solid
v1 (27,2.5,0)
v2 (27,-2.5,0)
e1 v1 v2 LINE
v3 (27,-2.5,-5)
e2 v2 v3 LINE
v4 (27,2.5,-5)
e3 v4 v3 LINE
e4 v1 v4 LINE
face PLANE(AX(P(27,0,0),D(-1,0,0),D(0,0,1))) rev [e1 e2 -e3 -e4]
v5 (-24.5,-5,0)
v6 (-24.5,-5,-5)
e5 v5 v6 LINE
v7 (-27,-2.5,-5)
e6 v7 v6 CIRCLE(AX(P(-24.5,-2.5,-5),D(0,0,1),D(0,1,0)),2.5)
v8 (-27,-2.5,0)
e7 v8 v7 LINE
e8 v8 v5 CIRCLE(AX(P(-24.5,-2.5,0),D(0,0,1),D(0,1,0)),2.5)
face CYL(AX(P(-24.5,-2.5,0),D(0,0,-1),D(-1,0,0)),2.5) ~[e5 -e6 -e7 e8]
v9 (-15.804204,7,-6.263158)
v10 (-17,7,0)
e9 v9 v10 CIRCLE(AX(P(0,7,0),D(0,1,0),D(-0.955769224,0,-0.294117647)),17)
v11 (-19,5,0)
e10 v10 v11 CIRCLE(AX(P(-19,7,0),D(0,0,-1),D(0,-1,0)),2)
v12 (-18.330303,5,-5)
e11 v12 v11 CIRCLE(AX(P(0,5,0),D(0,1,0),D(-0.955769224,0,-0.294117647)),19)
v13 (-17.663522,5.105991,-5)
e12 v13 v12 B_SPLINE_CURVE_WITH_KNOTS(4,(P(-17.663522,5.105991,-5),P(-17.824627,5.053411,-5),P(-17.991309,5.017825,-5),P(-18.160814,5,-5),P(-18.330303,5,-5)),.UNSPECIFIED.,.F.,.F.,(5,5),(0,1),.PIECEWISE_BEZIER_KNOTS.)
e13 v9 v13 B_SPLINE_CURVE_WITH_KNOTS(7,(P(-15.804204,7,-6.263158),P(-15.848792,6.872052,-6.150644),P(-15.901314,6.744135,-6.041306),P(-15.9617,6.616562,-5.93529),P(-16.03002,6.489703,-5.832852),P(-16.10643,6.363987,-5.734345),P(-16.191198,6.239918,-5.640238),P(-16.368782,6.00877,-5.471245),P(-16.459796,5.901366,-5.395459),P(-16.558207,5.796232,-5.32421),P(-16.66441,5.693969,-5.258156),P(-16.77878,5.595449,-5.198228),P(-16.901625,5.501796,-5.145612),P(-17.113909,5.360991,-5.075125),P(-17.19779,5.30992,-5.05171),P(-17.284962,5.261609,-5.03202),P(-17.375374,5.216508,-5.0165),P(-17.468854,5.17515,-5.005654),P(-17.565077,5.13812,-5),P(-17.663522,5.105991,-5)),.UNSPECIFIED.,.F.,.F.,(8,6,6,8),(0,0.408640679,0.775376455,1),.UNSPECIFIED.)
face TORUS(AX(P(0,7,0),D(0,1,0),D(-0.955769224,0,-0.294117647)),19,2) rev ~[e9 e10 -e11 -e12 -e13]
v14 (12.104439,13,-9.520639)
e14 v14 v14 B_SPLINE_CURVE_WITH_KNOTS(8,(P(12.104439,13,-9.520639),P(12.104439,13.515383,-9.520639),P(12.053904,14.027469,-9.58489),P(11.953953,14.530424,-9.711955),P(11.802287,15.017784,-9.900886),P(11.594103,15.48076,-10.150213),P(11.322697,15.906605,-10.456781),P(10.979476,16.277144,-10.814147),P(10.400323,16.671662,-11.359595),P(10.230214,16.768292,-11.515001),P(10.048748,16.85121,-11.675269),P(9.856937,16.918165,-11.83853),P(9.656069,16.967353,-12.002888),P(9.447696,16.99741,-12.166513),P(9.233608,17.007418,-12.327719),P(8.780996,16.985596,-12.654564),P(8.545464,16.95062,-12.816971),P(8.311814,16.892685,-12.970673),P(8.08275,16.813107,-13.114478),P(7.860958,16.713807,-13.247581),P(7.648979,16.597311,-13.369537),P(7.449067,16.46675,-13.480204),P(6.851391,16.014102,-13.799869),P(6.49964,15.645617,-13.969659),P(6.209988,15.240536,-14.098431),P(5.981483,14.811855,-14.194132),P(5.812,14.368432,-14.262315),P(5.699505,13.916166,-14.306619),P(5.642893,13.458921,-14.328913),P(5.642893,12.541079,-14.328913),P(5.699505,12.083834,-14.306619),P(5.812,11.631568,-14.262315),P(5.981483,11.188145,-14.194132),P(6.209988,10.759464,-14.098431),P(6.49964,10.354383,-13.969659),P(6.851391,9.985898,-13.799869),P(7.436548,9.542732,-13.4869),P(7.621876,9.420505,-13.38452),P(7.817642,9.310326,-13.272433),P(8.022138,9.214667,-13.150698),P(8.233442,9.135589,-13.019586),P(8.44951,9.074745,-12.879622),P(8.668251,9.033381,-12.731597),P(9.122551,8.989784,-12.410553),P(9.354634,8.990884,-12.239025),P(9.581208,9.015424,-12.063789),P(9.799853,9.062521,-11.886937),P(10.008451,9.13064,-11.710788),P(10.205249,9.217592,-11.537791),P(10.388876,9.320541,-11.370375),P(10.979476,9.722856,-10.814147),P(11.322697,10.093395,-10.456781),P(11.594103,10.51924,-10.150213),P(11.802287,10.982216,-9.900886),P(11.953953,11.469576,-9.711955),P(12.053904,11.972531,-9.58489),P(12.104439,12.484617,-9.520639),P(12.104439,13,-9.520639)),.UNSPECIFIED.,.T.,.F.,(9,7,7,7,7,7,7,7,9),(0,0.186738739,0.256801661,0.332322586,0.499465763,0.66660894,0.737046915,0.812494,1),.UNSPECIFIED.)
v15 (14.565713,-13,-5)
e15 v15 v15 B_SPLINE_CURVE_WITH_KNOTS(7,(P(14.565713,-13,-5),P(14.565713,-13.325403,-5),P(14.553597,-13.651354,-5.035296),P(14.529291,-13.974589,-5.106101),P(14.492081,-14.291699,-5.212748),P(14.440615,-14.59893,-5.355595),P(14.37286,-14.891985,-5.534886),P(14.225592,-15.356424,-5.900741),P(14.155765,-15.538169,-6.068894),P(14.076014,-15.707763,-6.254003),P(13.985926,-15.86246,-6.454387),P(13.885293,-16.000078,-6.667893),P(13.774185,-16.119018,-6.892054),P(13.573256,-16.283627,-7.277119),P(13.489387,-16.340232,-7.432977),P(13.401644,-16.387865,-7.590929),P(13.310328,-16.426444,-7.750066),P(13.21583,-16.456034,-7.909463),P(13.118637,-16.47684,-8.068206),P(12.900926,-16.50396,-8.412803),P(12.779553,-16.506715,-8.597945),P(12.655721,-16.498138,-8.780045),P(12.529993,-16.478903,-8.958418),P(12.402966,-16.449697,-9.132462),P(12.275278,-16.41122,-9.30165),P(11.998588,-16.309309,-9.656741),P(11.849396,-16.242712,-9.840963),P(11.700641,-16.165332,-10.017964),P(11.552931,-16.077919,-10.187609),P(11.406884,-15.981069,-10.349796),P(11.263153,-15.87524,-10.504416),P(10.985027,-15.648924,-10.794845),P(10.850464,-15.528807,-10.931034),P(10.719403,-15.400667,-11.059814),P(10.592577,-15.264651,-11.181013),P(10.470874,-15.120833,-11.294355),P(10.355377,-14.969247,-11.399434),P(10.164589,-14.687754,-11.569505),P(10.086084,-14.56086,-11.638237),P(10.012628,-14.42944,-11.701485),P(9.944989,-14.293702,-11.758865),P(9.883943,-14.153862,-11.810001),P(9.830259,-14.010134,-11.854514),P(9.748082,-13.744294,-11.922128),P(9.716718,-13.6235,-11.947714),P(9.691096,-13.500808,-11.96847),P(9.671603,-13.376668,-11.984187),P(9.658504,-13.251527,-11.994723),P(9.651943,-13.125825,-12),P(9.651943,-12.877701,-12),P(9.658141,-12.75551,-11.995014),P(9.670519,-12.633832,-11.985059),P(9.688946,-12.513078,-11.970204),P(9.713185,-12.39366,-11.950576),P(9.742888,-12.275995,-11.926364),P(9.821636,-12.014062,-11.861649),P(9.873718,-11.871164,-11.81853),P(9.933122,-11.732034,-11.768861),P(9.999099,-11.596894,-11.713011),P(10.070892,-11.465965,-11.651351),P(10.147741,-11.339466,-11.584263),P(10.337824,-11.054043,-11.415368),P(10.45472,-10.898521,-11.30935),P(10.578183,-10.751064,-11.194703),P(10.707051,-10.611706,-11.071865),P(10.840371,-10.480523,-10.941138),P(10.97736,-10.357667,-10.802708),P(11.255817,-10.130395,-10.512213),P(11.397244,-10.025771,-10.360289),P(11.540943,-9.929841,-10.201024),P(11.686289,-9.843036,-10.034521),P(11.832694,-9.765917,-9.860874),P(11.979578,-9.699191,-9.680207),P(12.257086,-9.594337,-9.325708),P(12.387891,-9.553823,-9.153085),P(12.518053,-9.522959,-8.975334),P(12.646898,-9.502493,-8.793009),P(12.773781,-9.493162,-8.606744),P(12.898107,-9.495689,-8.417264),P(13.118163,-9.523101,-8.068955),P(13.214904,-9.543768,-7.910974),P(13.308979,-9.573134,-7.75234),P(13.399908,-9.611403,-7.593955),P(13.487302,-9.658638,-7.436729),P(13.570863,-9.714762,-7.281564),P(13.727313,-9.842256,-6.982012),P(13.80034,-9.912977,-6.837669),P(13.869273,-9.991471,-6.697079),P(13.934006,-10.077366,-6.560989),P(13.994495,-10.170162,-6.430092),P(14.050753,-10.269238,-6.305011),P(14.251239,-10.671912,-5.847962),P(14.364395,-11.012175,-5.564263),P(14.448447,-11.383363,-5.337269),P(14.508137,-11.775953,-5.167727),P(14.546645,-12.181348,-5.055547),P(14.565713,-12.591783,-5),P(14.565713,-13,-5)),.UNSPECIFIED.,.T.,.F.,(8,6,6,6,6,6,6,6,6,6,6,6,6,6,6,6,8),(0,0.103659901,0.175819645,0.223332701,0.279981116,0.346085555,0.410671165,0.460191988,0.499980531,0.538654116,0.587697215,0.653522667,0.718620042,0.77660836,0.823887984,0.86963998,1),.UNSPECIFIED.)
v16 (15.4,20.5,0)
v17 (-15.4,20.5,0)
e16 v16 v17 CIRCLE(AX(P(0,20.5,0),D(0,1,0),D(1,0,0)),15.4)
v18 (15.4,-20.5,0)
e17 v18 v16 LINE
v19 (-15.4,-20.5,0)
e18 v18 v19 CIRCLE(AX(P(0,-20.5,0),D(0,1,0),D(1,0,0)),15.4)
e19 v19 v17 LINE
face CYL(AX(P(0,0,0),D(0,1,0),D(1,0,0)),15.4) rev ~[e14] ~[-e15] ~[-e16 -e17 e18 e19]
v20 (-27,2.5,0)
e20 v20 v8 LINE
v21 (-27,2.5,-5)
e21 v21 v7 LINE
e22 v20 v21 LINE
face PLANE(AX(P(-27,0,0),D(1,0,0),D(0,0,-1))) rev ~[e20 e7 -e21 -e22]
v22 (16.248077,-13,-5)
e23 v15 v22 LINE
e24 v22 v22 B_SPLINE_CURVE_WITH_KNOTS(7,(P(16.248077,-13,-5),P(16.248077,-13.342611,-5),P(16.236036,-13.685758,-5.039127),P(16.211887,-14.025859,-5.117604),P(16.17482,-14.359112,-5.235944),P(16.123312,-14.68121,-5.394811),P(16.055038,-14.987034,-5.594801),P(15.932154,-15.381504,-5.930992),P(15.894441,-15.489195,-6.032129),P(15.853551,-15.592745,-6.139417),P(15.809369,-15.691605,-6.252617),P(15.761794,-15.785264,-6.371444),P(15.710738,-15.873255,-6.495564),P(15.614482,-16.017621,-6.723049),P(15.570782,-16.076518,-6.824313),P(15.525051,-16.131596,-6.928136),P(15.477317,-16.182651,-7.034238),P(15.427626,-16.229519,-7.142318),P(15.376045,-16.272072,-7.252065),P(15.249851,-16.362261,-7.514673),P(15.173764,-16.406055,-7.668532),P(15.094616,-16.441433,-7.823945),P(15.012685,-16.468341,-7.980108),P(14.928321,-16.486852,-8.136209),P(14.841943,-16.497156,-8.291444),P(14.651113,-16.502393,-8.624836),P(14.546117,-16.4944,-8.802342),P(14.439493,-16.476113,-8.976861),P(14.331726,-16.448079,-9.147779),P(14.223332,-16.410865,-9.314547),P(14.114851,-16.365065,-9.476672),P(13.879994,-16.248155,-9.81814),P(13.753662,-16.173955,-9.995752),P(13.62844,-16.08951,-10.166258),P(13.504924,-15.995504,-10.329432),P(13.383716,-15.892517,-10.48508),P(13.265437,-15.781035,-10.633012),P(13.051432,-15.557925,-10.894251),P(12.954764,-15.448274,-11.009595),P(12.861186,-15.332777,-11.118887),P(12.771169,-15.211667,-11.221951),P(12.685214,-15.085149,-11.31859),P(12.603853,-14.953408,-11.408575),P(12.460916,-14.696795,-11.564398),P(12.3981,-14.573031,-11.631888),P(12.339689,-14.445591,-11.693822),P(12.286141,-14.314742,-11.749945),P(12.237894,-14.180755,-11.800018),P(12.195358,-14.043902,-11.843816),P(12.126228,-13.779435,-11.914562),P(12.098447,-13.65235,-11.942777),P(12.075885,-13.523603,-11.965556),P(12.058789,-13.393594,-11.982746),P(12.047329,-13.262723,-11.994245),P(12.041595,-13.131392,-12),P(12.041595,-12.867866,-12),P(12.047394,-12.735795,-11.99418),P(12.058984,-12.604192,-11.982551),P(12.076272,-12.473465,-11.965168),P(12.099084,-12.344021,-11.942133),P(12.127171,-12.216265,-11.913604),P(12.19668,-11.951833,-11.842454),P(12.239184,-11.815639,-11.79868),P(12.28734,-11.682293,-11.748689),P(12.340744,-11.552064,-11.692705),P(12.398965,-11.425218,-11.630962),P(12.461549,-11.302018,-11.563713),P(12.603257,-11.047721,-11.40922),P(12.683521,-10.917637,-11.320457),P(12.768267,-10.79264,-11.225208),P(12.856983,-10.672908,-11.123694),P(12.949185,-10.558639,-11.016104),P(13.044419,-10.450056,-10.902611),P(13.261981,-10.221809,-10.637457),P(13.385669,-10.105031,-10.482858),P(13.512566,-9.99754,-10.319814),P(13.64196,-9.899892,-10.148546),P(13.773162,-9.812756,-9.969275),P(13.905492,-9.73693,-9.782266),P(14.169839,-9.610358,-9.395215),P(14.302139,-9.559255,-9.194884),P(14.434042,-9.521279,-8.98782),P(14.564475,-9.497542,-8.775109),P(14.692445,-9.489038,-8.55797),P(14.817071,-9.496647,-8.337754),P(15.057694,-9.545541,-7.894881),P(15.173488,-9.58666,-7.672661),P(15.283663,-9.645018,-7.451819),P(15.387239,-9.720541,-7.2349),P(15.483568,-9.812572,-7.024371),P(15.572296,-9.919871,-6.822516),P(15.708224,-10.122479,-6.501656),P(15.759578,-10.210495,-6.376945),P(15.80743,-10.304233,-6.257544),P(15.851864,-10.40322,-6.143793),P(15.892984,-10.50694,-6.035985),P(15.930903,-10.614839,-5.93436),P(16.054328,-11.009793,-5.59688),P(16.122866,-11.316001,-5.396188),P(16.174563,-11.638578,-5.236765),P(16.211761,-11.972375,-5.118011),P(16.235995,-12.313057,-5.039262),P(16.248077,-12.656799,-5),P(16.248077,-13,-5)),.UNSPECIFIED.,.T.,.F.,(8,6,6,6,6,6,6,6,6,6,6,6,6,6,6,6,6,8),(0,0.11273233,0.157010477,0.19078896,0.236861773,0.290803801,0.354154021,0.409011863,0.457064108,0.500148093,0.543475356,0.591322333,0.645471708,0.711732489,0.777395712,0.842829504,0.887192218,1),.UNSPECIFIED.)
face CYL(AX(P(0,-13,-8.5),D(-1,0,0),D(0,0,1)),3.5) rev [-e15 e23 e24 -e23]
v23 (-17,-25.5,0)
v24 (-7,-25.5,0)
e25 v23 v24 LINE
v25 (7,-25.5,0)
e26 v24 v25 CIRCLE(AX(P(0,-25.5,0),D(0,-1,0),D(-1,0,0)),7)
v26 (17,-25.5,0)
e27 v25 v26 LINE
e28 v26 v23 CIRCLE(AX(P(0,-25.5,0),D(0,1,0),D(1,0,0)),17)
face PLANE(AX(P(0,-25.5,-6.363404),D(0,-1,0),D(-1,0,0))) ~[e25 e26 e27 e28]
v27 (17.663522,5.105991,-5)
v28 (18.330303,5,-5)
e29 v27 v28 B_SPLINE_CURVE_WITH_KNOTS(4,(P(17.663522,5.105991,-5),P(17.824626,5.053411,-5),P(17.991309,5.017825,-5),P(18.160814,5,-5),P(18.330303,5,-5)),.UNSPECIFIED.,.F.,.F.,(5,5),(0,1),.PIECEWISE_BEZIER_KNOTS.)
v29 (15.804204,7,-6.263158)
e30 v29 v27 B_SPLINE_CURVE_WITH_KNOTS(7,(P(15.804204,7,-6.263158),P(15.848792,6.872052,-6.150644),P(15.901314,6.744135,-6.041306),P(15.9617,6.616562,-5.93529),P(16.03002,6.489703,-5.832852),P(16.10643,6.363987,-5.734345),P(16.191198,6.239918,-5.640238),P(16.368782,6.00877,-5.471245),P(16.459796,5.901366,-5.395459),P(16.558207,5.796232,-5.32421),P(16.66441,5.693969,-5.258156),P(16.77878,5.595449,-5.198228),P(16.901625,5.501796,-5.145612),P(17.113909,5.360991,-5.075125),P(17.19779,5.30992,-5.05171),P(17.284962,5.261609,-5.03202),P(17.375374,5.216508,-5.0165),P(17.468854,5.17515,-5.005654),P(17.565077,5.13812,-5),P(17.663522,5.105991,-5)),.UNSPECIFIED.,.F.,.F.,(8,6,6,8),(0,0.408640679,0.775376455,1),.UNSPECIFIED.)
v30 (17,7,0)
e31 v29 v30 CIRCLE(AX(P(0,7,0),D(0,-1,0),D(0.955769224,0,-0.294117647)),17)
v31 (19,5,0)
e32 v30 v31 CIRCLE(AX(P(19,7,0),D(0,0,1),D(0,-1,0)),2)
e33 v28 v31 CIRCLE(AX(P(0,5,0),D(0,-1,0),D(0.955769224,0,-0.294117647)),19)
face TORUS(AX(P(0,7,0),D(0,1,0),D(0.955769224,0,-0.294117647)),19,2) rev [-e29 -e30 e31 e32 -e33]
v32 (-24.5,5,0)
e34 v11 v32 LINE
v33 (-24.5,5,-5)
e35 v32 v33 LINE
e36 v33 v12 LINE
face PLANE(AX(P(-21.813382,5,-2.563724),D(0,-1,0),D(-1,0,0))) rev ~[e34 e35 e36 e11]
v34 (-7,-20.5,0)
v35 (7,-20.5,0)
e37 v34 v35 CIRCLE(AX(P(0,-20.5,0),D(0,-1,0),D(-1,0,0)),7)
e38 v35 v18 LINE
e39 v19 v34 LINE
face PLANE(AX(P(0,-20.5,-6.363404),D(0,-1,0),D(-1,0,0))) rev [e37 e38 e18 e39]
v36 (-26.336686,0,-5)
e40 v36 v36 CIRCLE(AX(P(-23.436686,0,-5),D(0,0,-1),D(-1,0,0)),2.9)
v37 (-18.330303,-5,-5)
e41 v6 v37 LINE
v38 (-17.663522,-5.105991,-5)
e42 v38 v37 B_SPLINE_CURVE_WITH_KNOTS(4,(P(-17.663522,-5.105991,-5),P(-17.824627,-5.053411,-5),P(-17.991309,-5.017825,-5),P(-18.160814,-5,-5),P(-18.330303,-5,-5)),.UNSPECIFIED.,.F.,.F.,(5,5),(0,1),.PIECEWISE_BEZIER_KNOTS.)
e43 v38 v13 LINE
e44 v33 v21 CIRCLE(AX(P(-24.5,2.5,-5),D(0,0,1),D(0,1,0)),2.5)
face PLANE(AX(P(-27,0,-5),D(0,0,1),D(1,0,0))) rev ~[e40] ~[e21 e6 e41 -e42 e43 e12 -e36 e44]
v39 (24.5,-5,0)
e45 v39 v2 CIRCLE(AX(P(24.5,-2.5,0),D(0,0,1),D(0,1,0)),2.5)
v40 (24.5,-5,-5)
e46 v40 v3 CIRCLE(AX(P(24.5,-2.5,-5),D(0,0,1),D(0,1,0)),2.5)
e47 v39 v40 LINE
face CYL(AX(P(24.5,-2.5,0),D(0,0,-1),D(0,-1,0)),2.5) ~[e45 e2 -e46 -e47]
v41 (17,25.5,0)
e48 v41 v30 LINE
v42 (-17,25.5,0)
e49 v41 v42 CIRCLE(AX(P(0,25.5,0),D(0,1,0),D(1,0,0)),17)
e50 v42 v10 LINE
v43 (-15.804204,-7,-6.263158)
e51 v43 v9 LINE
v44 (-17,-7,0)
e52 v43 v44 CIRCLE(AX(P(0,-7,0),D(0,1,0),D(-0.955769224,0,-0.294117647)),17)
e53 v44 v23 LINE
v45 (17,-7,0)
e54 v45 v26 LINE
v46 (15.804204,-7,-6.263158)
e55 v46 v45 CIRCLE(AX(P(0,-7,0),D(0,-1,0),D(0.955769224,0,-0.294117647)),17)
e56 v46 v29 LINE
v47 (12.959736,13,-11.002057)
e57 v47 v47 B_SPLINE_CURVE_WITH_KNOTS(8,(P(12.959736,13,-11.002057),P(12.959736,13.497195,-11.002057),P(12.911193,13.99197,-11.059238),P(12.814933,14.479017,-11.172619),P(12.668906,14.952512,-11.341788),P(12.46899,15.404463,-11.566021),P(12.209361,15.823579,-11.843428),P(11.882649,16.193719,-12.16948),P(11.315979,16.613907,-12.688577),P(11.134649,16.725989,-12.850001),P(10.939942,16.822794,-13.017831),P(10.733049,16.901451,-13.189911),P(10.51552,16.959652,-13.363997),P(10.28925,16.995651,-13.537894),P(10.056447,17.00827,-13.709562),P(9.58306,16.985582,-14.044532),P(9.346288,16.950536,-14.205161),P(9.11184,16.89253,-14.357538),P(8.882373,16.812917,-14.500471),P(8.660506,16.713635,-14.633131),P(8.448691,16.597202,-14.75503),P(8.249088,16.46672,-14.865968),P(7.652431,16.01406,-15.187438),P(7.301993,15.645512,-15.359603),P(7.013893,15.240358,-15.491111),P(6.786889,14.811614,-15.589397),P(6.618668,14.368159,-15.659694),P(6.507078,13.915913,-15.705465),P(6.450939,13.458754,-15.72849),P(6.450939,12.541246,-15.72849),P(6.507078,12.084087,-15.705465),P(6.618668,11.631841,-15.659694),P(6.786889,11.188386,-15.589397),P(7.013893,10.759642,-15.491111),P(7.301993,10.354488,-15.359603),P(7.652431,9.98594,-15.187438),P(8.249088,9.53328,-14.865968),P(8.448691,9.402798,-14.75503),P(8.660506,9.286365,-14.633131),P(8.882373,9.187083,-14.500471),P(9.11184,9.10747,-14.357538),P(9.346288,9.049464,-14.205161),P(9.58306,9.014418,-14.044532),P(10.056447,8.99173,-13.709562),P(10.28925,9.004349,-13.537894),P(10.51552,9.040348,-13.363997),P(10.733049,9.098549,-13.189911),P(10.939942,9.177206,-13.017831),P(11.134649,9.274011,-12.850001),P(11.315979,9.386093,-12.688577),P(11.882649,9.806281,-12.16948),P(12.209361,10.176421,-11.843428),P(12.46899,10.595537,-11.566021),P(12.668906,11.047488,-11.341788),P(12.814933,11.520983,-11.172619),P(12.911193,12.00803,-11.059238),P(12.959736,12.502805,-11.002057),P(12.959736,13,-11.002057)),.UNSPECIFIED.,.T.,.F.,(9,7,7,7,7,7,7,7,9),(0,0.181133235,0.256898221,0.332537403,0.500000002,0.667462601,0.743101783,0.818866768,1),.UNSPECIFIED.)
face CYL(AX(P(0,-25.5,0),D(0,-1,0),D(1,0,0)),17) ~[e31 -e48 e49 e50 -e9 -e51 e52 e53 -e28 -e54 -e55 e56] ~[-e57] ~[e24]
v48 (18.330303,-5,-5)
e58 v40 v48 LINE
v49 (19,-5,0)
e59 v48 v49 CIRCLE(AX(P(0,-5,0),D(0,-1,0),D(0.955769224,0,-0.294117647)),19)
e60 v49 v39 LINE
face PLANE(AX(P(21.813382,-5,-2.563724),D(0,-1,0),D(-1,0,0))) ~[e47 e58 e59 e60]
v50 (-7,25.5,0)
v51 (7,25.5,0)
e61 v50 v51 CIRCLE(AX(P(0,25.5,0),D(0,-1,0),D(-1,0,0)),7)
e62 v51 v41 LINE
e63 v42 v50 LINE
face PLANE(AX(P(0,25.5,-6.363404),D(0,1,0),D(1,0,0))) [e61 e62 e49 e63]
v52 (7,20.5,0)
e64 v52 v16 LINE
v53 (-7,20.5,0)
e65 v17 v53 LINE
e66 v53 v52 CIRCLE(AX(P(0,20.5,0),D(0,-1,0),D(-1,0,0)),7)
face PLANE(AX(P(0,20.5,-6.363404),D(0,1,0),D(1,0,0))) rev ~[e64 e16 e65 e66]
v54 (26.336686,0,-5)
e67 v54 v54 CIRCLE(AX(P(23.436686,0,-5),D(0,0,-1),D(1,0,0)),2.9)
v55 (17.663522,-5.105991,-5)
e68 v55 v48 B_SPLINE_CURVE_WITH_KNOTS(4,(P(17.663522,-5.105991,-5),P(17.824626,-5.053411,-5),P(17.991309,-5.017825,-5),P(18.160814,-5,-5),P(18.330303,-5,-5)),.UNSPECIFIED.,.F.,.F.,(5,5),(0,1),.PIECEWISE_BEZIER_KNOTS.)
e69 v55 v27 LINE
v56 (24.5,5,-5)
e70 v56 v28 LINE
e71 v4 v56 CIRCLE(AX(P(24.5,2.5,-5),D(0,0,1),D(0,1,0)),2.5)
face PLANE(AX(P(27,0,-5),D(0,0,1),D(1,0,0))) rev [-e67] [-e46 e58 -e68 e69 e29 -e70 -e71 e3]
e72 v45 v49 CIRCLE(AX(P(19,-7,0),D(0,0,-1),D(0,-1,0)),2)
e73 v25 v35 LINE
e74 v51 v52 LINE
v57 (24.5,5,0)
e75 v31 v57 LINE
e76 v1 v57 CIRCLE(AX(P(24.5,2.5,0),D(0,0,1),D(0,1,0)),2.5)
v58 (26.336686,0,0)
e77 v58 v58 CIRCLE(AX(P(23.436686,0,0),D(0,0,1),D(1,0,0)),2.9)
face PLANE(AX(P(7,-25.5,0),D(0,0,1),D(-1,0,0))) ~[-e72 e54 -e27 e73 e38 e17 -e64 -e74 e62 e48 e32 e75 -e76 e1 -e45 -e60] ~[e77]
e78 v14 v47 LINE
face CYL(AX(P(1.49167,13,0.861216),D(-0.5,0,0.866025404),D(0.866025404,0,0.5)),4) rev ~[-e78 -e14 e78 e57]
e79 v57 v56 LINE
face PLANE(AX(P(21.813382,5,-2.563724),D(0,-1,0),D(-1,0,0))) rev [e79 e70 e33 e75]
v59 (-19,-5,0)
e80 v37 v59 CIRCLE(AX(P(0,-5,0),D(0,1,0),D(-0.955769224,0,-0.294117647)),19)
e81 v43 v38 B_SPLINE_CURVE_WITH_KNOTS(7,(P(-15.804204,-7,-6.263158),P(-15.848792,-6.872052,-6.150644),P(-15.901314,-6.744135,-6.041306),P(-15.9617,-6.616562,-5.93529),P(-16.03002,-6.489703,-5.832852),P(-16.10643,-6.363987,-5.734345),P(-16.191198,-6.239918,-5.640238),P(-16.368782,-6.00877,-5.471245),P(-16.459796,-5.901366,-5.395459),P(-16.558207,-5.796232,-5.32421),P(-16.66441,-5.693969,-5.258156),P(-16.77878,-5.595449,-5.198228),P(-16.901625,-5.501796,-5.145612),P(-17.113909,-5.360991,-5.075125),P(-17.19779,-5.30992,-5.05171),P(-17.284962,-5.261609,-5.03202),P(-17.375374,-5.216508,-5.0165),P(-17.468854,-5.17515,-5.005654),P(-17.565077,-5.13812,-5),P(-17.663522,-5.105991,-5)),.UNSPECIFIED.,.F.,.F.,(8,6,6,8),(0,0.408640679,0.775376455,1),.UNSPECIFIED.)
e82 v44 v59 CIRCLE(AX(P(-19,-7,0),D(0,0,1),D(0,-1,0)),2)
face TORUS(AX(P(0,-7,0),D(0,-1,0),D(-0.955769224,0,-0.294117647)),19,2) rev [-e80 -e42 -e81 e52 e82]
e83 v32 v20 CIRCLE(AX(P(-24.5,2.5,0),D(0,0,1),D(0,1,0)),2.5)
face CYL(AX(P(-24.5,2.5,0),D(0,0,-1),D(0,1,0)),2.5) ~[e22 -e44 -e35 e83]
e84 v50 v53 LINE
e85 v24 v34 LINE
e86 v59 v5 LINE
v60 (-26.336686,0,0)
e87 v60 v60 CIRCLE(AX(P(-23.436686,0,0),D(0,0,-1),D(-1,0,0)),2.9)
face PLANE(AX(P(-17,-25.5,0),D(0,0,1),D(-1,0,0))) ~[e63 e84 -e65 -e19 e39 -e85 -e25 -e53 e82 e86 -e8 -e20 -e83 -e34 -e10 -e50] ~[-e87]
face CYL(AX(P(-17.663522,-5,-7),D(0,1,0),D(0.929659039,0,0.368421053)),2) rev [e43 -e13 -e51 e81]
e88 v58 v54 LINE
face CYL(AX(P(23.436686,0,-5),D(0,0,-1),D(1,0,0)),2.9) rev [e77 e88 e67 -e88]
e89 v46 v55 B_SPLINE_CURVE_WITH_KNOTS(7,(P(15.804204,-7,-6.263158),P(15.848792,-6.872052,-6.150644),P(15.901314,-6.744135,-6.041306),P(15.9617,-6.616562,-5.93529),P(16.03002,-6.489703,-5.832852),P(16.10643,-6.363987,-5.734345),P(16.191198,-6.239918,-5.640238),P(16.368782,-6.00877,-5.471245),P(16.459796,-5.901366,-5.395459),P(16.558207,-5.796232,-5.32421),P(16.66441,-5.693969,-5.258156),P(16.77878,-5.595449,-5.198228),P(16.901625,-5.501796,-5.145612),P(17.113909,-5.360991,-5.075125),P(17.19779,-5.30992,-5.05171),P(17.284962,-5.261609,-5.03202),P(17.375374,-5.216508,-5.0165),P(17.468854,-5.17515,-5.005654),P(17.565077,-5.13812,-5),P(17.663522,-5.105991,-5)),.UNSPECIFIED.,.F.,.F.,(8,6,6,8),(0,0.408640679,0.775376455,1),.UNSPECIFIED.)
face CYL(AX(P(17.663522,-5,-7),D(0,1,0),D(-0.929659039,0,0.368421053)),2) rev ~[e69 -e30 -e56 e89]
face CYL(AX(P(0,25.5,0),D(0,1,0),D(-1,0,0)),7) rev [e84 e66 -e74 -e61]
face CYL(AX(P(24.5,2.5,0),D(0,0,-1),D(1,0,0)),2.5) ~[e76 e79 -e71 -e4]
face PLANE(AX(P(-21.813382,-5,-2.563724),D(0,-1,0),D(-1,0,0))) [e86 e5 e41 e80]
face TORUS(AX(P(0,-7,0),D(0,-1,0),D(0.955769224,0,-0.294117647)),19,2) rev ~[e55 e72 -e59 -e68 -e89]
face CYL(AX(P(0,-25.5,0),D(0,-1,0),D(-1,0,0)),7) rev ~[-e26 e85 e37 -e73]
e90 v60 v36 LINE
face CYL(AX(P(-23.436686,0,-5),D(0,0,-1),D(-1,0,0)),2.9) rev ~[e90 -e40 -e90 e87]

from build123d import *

# Parameters (mm, degrees)
BOSS_EXTRUDE1_DEPTH  = 20.5
BOSS_EXTRUDE2_START  = 5
BOSS_EXTRUDE2_DEPTH  = 5
BOSS_EXTRUDE3_DEPTH  = 5
FILLET1_R            = 2
SKETCH8_R            = 2.9
CUT_EXTRUDE4_DEPTH   = 5
FILLET1_OF_MIRROR3_R = 2
FILLET2_R            = 2.5
SKETCH9_R            = 3.5
CUT_EXTRUDE5_DEPTH   = 50
SKETCH17_R           = 4
CUT_EXTRUDE8_DEPTH   = 50


with BuildPart() as part:
    # Sketch1 → Boss-Extrude1 (new, symmetric)
    with BuildSketch(Plane(origin=(0, 0, 0), x_dir=(1, 0, 0), z_dir=(0, 1, 0))):
        with BuildLine():
            Line((-15.4, 0), (-17, 0))
            ThreePointArc((-17, 0), (0, 17), (17, 0))
            Line((17, 0), (15.4, 0))
            ThreePointArc((15.4, 0), (0, 15.4), (-15.4, 0))
        make_face()
    extrude(amount=BOSS_EXTRUDE1_DEPTH, both=True)

    # Sketch6 → Boss-Extrude2 (add)
    with BuildSketch(Plane(origin=(0, 20.5, 0), x_dir=(1, 0, 0), z_dir=(0, 1, 0)).offset(BOSS_EXTRUDE2_START)):
        with BuildLine():
            Line((-17, 0), (-7, 0))
            ThreePointArc((-7, 0), (0, 7), (7, 0))
            Line((7, 0), (17, 0))
            ThreePointArc((17, 0), (0, 17), (-17, 0))
        make_face()
    boss_extrude2 = extrude(amount=-BOSS_EXTRUDE2_DEPTH)

    # Mirror1: Boss-Extrude2 across plane
    add(boss_extrude2.mirror(Plane.ZX))

    # Sketch7 → Boss-Extrude3 (add, symmetric)
    with BuildSketch(Plane(origin=(0, 0, 0), x_dir=(1, 0, 0), z_dir=(0, 1, 0))):
        with BuildLine():
            Line((-17, 0), (-27, 0))
            Line((-27, 0), (-27, 5))
            Line((-27, 5), (-16.248076809, 5))
            ThreePointArc((-16.248076809, 5), (-16.810968231, 2.528111374), (-17, 0))
        make_face()
    boss_extrude3 = extrude(amount=BOSS_EXTRUDE3_DEPTH, both=True)

    # Fillet1
    fillet1_edges = [part.edges().sort_by_distance(p)[0] for p in [
        (-16.810968231, -5, -2.528111374),
        (-16.248076809, 0, -5),
        (-16.810968231, 5, -2.528111374),
    ]]
    fillet(fillet1_edges, radius=FILLET1_R)

    # Sketch8 → Cut-Extrude4 (cut, symmetric)
    with BuildSketch(Plane(origin=(0, 0, -5), x_dir=(-1, 0, 0), z_dir=(0, 0, -1))):
        with Locations((23.436686237, 0)):
            Circle(SKETCH8_R)
    cut_extrude4 = extrude(amount=CUT_EXTRUDE4_DEPTH, both=True, mode=Mode.SUBTRACT)

    # Mirror3: Boss-Extrude3, Cut-Extrude4 across plane
    add(boss_extrude3.mirror(Plane(origin=(0, 0, 0), x_dir=(0, 0, 1), z_dir=(1, 0, 0))))
    add(cut_extrude4.mirror(Plane(origin=(0, 0, 0), x_dir=(0, 0, 1), z_dir=(1, 0, 0))), mode=Mode.SUBTRACT)

    # Fillet1 of Mirror3
    fillet1_of_mirror3_edges = [part.edges().sort_by_distance(p)[0] for p in [
        (16.810968231, -5, -2.528111374),
        (16.248076809, 0, -5),
        (16.810968231, 5, -2.528111374),
    ]]
    fillet(fillet1_of_mirror3_edges, radius=FILLET1_OF_MIRROR3_R)

    # Fillet2
    fillet2_edges = [part.edges().sort_by_distance(p)[0] for p in [
        (-27, -5, -2.5),
        (-27, 5, -2.5),
        (27, 5, -2.5),
        (27, -5, -2.5),
    ]]
    fillet(fillet2_edges, radius=FILLET2_R)

    # Sketch9 → Cut-Extrude5 (cut)
    with BuildSketch(Plane(origin=(0, 0, 0), x_dir=(0, 0, -1), z_dir=(1, 0, 0))):
        with Locations(Location((8.5, -13, 0), (0, 0, 180))):
            Circle(SKETCH9_R)
    extrude(amount=CUT_EXTRUDE5_DEPTH, mode=Mode.SUBTRACT)

    # Sketch17 → Cut-Extrude8 (cut)
    with BuildSketch(Plane(origin=(0, 0, 0), x_dir=(0, -1, 0), z_dir=(-0.5000000000000011, 0, 0.8660254037844379))):
        with Locations(Location((-13, 1.722431864, 0), (0, 0, 90))):
            Circle(SKETCH17_R)
    extrude(amount=-CUT_EXTRUDE8_DEPTH, mode=Mode.SUBTRACT)


solid = part.part
